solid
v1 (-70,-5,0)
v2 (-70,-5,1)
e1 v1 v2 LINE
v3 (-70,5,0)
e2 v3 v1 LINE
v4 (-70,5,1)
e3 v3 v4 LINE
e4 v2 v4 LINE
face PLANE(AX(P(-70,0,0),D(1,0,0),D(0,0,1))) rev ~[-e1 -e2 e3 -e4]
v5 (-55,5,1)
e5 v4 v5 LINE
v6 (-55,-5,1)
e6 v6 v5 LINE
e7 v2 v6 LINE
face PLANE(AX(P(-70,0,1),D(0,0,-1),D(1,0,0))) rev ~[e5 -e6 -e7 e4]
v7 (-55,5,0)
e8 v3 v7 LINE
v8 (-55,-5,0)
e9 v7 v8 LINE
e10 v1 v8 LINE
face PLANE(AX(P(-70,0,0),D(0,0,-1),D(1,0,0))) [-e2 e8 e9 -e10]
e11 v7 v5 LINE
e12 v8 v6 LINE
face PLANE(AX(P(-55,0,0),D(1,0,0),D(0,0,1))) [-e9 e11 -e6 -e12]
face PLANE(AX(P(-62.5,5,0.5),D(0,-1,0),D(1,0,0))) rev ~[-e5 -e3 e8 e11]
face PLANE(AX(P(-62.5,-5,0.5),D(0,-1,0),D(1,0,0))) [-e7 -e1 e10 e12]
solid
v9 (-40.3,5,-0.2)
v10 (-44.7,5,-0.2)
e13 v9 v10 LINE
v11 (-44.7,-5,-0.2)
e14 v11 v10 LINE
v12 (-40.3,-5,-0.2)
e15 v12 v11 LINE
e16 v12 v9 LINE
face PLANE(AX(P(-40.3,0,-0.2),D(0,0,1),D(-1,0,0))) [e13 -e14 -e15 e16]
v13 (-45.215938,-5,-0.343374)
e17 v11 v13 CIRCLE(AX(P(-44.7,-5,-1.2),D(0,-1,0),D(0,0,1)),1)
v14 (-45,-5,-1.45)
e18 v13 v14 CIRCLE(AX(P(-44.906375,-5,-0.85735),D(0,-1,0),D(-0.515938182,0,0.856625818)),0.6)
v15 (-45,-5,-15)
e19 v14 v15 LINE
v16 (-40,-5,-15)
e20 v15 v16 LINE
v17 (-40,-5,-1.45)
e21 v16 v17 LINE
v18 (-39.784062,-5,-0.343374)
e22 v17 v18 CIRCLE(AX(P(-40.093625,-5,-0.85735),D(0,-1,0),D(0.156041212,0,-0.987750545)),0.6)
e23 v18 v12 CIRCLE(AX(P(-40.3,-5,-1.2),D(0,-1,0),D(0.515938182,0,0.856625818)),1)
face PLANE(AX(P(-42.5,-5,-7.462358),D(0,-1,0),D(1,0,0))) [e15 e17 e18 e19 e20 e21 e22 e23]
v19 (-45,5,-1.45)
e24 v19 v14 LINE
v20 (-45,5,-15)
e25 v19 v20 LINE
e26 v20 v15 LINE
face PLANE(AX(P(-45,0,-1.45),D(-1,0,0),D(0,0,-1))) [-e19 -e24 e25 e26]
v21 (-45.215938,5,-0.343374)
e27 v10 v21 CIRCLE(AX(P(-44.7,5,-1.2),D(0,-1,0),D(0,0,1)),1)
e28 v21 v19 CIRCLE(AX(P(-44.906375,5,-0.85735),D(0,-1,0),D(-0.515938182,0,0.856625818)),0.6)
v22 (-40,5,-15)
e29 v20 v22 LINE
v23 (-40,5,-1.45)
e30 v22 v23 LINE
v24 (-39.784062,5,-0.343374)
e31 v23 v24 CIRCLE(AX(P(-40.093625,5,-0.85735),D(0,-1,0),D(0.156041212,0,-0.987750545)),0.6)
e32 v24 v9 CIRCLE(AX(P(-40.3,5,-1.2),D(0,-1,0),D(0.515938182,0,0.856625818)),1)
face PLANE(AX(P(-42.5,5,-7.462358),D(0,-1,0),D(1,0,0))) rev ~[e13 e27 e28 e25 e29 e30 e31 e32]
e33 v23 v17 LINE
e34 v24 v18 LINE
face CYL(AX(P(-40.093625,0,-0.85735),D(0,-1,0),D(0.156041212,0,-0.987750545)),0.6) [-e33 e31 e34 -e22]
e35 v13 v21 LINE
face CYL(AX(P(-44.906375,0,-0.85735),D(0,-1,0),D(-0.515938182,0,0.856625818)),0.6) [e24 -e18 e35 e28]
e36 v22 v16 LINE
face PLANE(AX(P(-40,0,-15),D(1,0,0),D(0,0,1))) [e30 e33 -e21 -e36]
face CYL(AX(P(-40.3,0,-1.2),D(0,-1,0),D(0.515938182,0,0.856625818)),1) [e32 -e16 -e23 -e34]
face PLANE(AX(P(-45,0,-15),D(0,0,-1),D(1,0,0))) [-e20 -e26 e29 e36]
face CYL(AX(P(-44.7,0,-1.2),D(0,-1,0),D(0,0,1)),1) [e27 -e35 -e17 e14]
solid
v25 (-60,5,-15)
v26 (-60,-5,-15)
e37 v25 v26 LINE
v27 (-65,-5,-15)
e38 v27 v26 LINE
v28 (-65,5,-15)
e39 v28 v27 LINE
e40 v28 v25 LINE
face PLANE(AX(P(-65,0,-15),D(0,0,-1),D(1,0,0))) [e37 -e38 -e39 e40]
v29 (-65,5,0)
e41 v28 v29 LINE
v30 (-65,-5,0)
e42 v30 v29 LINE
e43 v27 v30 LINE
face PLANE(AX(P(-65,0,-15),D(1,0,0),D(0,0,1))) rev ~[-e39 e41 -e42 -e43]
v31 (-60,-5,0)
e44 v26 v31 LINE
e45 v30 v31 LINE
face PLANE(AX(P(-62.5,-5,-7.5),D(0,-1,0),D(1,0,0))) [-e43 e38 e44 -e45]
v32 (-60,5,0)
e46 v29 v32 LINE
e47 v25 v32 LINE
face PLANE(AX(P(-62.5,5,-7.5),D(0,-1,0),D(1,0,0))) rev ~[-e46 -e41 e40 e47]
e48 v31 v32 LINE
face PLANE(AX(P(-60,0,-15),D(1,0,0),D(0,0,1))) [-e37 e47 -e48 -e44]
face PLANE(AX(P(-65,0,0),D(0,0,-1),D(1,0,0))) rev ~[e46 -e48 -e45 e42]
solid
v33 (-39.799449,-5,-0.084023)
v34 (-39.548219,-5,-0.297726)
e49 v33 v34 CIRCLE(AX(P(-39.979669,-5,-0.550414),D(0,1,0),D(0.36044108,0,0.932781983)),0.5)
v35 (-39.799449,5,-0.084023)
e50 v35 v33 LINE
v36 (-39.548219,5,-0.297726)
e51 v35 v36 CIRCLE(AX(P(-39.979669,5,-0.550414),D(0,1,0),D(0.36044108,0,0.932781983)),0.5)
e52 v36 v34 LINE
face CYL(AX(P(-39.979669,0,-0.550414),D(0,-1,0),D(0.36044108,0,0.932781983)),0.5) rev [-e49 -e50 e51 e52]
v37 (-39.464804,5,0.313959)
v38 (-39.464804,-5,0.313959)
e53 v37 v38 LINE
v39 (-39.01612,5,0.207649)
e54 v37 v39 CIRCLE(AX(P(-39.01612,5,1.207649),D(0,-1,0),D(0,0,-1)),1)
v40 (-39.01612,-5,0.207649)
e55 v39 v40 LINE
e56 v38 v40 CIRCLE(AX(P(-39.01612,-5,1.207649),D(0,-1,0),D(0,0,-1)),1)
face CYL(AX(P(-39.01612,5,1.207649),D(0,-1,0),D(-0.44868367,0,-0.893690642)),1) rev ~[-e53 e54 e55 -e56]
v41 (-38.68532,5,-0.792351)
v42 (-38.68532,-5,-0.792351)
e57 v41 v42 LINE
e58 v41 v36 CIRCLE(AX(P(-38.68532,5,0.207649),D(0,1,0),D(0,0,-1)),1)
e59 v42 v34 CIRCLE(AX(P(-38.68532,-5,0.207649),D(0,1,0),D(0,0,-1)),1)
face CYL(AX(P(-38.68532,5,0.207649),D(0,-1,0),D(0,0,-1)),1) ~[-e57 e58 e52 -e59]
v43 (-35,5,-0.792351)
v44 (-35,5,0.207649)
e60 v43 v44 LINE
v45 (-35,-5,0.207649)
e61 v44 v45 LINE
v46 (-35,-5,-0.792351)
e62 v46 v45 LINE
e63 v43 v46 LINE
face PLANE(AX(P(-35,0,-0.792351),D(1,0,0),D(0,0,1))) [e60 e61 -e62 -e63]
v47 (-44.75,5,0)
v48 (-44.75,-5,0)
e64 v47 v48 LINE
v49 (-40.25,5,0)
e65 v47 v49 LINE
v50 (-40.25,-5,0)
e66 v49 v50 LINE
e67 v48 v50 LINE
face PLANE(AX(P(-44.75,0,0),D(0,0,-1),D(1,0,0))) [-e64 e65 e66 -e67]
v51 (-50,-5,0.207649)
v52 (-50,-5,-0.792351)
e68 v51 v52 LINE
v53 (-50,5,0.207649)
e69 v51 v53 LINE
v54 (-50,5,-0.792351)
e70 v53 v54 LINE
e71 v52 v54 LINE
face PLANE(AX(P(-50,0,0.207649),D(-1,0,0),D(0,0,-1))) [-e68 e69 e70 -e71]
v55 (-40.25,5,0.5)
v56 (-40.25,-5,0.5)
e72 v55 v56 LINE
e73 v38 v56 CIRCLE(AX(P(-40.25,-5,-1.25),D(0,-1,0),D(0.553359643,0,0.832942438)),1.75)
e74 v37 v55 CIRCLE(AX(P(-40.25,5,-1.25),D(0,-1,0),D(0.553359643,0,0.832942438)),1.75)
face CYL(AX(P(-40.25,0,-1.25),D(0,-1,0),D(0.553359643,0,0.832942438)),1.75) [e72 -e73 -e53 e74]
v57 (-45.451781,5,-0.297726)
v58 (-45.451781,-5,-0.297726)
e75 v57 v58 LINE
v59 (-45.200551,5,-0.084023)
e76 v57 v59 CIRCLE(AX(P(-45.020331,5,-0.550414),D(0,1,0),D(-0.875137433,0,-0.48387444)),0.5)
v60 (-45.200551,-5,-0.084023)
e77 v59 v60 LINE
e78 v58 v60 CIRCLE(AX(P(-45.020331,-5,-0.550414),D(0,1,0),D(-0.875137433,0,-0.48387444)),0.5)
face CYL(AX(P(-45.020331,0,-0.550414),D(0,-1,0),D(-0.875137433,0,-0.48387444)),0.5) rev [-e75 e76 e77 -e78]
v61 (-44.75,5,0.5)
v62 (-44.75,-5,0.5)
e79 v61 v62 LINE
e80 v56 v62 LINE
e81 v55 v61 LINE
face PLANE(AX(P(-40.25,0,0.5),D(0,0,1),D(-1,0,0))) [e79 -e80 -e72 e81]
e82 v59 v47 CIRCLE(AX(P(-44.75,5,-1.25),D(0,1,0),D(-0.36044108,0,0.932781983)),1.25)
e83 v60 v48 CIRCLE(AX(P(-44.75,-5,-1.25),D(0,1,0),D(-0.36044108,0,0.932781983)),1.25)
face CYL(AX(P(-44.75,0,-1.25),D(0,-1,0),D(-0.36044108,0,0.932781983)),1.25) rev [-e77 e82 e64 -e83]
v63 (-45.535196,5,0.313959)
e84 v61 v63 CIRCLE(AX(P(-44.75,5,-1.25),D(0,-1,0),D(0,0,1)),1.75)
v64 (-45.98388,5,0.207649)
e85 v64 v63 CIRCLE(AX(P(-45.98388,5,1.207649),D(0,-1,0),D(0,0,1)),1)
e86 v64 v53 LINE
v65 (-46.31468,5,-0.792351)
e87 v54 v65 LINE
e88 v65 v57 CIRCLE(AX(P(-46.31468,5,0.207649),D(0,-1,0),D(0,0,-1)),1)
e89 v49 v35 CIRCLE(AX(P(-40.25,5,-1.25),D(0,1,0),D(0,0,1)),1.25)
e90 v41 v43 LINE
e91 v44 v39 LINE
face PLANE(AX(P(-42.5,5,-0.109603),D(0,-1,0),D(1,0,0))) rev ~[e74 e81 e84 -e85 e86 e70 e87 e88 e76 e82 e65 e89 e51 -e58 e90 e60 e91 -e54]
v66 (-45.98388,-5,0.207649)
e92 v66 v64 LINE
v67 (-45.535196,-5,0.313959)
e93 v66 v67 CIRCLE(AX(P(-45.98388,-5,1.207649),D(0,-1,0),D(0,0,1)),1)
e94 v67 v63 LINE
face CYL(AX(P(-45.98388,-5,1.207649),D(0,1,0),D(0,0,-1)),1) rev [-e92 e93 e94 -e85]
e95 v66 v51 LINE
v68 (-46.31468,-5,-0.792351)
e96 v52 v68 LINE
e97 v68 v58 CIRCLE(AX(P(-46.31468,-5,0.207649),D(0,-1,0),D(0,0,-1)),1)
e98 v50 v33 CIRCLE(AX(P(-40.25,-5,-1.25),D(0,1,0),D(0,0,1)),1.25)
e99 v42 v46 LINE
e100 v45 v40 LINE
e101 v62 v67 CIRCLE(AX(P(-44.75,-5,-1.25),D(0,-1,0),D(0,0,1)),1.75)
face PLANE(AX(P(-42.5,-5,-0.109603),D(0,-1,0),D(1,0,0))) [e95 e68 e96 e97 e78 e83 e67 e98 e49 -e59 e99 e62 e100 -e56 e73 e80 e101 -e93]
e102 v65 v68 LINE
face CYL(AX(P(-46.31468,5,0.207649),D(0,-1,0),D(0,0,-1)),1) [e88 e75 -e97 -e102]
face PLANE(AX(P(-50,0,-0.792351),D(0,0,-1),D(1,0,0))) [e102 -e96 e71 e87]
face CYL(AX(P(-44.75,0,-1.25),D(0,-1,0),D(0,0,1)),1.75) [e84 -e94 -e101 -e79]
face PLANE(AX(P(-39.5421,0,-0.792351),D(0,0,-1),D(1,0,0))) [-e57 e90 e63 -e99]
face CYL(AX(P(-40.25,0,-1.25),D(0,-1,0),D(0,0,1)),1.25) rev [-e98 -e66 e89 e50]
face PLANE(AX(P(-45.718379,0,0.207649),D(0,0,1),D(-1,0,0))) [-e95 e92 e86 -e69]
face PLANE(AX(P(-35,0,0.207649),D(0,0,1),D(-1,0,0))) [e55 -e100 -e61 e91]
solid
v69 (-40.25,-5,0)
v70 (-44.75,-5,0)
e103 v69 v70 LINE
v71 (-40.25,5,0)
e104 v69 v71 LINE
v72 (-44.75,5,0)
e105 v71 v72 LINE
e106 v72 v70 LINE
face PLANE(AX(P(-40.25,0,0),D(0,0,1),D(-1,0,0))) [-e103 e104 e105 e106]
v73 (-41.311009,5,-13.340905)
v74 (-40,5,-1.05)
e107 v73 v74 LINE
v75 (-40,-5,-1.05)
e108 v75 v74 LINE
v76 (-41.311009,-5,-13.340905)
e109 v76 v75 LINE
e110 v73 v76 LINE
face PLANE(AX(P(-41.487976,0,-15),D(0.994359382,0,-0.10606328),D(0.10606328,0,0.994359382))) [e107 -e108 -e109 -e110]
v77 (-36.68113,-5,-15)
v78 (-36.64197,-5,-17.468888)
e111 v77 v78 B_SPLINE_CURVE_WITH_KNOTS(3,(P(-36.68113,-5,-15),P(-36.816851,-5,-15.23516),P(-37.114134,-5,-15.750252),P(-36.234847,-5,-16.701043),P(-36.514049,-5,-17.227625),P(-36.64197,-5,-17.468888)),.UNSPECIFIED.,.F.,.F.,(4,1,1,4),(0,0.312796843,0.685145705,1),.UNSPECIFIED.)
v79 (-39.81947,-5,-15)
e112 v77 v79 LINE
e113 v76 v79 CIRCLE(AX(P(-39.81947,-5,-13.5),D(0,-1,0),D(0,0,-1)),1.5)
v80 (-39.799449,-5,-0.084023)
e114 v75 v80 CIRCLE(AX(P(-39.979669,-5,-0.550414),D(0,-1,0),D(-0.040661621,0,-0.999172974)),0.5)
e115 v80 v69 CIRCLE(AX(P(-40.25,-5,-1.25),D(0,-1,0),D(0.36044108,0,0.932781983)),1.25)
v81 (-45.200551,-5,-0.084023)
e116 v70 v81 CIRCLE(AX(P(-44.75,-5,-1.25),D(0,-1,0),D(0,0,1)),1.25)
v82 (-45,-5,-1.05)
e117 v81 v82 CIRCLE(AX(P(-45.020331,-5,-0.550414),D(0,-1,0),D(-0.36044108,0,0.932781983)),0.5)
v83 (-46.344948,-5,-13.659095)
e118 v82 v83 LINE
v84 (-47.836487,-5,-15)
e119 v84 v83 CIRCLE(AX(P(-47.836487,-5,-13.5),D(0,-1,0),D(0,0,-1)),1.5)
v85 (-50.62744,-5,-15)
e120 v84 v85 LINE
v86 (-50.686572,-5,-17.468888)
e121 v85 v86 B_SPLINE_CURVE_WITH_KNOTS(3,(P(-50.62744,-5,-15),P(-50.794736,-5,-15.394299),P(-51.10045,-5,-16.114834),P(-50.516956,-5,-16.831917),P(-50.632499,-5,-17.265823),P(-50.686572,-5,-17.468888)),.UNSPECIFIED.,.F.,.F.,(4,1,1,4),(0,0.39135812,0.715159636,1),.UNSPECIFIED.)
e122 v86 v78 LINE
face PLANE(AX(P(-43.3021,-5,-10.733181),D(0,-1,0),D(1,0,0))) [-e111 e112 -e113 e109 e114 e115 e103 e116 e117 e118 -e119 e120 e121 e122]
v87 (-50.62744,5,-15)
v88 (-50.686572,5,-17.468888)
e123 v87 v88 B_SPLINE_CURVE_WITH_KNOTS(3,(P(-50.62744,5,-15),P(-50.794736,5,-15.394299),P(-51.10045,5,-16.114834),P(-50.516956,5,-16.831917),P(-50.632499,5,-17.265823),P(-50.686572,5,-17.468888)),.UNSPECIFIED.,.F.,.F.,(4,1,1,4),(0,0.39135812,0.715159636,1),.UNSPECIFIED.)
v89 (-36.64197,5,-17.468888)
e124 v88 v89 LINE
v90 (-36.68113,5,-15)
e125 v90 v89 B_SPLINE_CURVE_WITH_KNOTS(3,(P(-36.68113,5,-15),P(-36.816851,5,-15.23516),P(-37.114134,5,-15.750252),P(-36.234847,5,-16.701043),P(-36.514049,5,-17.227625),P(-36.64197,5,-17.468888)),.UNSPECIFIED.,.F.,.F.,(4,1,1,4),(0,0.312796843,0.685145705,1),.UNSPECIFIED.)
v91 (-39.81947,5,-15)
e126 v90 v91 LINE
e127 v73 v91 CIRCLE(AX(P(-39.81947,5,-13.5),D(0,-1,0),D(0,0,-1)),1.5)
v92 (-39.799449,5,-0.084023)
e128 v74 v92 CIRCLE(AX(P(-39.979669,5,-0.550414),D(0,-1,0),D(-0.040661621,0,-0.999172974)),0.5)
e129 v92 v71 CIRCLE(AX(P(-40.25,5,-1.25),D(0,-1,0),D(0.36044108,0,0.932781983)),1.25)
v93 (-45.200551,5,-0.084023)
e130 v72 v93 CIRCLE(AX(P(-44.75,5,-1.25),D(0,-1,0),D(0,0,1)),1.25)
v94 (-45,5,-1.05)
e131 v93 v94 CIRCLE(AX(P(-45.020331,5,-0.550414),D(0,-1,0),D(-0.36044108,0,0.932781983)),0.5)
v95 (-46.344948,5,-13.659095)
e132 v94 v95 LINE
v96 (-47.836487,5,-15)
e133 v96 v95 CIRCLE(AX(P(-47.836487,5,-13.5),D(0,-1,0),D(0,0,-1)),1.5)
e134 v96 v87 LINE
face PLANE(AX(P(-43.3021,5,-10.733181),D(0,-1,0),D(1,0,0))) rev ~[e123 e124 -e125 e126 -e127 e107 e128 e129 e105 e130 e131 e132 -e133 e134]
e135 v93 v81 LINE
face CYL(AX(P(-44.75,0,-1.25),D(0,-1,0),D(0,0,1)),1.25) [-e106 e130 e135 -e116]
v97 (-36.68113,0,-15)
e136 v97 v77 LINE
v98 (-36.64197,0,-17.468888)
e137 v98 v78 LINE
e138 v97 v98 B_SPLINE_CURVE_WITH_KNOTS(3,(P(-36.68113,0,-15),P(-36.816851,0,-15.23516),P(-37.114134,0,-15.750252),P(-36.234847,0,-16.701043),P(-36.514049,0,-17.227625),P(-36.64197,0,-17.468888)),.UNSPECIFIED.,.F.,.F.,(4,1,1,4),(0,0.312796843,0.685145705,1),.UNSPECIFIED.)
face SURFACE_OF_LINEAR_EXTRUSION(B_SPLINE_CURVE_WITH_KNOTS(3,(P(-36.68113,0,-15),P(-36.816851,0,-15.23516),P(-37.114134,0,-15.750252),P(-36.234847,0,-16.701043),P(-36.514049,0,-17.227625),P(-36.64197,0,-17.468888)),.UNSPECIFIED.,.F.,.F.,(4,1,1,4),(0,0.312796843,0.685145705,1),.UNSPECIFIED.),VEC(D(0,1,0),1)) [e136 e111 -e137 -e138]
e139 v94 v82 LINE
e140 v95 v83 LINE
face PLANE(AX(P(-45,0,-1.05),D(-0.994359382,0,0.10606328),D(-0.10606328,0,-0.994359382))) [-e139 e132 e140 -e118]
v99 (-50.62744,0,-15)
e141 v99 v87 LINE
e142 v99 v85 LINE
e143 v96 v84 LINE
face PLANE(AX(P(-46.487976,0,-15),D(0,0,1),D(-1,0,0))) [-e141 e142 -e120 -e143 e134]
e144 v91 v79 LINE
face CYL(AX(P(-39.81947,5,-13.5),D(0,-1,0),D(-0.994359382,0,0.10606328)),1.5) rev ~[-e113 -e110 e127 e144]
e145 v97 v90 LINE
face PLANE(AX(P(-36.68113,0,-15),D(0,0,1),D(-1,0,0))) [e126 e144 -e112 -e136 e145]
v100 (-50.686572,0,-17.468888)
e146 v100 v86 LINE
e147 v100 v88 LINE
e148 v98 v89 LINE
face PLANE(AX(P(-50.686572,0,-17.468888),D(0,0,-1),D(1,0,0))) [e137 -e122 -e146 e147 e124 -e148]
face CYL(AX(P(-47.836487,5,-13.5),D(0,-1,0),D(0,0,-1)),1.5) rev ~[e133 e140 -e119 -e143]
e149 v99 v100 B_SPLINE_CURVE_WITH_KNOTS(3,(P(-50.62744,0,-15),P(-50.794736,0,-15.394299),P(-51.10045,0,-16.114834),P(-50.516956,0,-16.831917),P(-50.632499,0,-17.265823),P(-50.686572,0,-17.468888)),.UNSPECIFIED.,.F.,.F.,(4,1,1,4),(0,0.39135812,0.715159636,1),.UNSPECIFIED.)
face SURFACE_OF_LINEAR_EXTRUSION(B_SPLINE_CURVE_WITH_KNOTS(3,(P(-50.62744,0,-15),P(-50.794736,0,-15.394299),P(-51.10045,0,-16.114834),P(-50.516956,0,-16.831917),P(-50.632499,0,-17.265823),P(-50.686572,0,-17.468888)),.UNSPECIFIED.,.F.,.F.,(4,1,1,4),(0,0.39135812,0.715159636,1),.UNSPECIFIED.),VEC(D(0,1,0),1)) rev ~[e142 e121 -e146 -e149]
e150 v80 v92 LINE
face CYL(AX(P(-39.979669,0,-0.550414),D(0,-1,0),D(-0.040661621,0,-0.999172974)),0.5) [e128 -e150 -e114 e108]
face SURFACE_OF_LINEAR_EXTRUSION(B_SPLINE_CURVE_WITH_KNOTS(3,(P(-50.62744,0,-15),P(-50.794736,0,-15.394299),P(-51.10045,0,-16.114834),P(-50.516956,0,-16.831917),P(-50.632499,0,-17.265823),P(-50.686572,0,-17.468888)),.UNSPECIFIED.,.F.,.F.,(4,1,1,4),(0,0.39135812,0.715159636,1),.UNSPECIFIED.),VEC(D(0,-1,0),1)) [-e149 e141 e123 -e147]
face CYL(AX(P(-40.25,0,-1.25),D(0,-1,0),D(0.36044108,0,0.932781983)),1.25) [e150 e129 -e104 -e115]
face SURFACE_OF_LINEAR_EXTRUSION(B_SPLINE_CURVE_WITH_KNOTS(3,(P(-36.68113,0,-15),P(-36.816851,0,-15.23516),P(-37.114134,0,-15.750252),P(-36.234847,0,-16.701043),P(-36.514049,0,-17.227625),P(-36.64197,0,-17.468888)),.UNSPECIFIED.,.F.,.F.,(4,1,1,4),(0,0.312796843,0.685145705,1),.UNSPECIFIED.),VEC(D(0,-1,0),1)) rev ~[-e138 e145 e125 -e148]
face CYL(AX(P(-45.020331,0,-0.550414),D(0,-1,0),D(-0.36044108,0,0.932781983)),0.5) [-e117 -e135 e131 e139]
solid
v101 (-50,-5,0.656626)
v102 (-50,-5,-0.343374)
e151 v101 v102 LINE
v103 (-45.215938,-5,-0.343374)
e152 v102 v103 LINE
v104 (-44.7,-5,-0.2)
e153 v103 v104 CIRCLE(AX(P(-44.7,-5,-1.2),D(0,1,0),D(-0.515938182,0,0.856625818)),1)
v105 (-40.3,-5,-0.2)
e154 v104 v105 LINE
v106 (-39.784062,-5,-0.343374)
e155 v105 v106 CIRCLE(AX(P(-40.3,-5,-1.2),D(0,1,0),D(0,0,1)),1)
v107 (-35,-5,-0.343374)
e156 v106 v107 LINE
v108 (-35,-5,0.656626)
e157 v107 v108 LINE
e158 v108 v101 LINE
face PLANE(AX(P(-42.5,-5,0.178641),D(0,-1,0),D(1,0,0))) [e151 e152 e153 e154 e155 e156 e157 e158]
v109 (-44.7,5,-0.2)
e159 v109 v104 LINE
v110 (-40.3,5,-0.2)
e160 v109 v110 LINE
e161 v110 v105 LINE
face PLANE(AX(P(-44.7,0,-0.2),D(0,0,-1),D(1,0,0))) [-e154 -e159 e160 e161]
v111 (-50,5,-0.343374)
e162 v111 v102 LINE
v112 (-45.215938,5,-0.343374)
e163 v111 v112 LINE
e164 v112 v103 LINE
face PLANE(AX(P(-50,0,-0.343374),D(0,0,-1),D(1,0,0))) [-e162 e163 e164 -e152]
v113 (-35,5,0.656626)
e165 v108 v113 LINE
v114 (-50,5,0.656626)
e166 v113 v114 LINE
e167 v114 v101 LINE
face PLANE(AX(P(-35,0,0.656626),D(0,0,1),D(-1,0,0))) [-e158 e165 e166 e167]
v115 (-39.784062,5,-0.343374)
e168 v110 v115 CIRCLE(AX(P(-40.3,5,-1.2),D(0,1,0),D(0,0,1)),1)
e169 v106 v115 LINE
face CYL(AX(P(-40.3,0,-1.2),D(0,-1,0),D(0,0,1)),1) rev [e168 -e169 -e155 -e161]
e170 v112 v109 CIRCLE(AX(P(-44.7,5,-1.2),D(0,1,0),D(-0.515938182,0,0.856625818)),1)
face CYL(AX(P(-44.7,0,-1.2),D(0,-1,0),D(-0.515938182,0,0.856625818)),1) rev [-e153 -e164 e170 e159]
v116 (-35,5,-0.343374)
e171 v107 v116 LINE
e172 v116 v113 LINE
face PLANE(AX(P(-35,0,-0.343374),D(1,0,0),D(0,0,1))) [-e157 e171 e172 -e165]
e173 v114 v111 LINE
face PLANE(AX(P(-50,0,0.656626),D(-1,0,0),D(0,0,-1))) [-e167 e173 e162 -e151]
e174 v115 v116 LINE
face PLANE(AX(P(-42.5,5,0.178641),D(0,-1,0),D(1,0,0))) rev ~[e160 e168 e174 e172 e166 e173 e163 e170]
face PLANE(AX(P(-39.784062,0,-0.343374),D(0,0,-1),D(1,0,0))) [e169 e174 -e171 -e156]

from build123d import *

# Parameters (mm, degrees)
F5_W      = 5
F5_H      = 15
F6_DEPTH  = 5
F7_W      = 15
F7_H      = 1
F8_DEPTH  = 5
F10_DEPTH = 5
F12_DEPTH = 5
F13_R     = 1
F14_R     = 1.5


with BuildPart() as f6:
    # F5 (on Front) → F6 (new body, symmetric)
    with BuildSketch(Plane.XZ):
        with Locations((-62.5, -7.5)):
            Rectangle(F5_W, F5_H)
    extrude(amount=F6_DEPTH, both=True)


with BuildPart() as f6b:
    # F5 (on Front) → F6, piece 2 (new body, symmetric)
    with BuildSketch(Plane.XZ):
        with BuildLine():
            ThreePointArc((-45.2159381819, -0.3433741818), (-45.4952685083, -0.9722616262), (-45, -1.45))
            Line((-45, -1.45), (-45, -15))
            Line((-45, -15), (-40, -15))
            Line((-40, -15), (-40, -1.45))
            ThreePointArc((-40, -1.45), (-39.5047314917, -0.9722616262), (-39.7840618181, -0.3433741818))
            ThreePointArc((-39.7840618181, -0.3433741818), (-40.0322555493, -0.2365100368), (-40.3, -0.2))
            Line((-40.3, -0.2), (-44.7, -0.2))
            ThreePointArc((-44.7, -0.2), (-44.9677444507, -0.2365100368), (-45.2159381819, -0.3433741818))
        make_face()
    extrude(amount=F6_DEPTH, both=True)


with BuildPart() as f8:
    # F7 (on Front) → F8 (new body, symmetric)
    with BuildSketch(Plane.XZ):
        with Locations((-62.5, 0.5)):
            Rectangle(F7_W, F7_H)
    extrude(amount=F8_DEPTH, both=True)


with BuildPart() as f8b:
    # F7 (on Front) → F8, piece 2 (new body, symmetric)
    with BuildSketch(Plane.XZ):
        with BuildLine():
            Line((-35, 0.6566258182), (-50, 0.6566258182))
            Line((-50, 0.6566258182), (-50, -0.3433741818))
            Line((-50, -0.3433741818), (-45.2159381819, -0.3433741818))
            ThreePointArc((-45.2159381819, -0.3433741818), (-44.9677444507, -0.2365100368), (-44.7, -0.2))
            Line((-44.7, -0.2), (-40.3, -0.2))
            ThreePointArc((-40.3, -0.2), (-40.0322555493, -0.2365100368), (-39.7840618181, -0.3433741818))
            Line((-39.7840618181, -0.3433741818), (-35, -0.3433741818))
            Line((-35, -0.3433741818), (-35, 0.6566258182))
        make_face()
    extrude(amount=F8_DEPTH, both=True)


with BuildPart() as f10:
    # F9 (on Front) → F10 (new body, symmetric)
    with BuildSketch(Plane.XZ):
        with BuildLine():
            Line((-40.25, 0), (-44.75, 0))
            ThreePointArc((-44.75, 0), (-44.9791594988, -0.0211851547), (-45.2005513505, -0.0840225214))
            ThreePointArc((-45.2005513505, -0.0840225214), (-45.509891127, -0.6520535457), (-45, -1.05))
            Line((-45, -1.05), (-46.4879758656, -15))
            Line((-46.4879758656, -15), (-50.6274402142, -15))
            add(Edge.make_bspline(
                [(-50.6274402142, -15), (-50.7947364996, -15.3942994532), (-51.1004502292, -16.1148340192), (-50.5169564586, -16.8319173185), (-50.6324987301, -17.2658232252), (-50.6865717471, -17.4688883126)],
                knots=[0, 0, 0, 0, 0.3913581203, 0.7151596359, 1, 1, 1, 1], degree=3))
            Line((-50.6865717471, -17.4688883126), (-36.6419702768, -17.4688883126))
            add(Edge.make_bspline(
                [(-36.6811295621, -15), (-36.8168513331, -15.2351602212), (-37.1141343472, -15.7502517856), (-36.2348468495, -16.7010428967), (-36.5140489091, -17.2276252723), (-36.6419702768, -17.4688883126)],
                knots=[0, 0, 0, 0, 0.3127968435, 0.6851457046, 1, 1, 1, 1], degree=3))
            Line((-36.6811295621, -15), (-41.4879758656, -15))
            Line((-41.4879758656, -15), (-40, -1.05))
            ThreePointArc((-40, -1.05), (-39.490108873, -0.6520535457), (-39.7994486495, -0.0840225214))
            ThreePointArc((-39.7994486495, -0.0840225214), (-40.0208405012, -0.0211851547), (-40.25, 0))
        make_face()
    extrude(amount=F10_DEPTH, both=True)

    # F14
    f14_edges = [f10.edges().sort_by_distance(p)[0] for p in [
        (-41.487976, 0, -15),
        (-46.487976, 0, -15),
    ]]
    fillet(f14_edges, radius=F14_R)


with BuildPart() as f12:
    # F11 (on Front) → F12 (new body, symmetric)
    with BuildSketch(Plane.XZ):
        with BuildLine():
            Line((-50, -0.792350733), (-45.4578995266, -0.792350733))
            ThreePointArc((-45.4578995266, -0.792350733), (-45.4902755998, -0.3796742531), (-45.2005513505, -0.0840225214))
            ThreePointArc((-45.2005513505, -0.0840225214), (-44.9791594988, -0.0211851547), (-44.75, 0))
            Line((-44.75, 0), (-40.25, 0))
            ThreePointArc((-40.25, 0), (-40.0208405012, -0.0211851547), (-39.7994486495, -0.0840225214))
            ThreePointArc((-39.7994486495, -0.0840225214), (-39.5097244002, -0.3796742531), (-39.5421004734, -0.792350733))
            Line((-39.5421004734, -0.792350733), (-35, -0.792350733))
            Line((-35, -0.792350733), (-35, 0.207649267))
            Line((-35, 0.207649267), (-39.2816206248, 0.207649267))
            ThreePointArc((-39.2816206248, 0.207649267), (-39.7442264426, 0.4253188081), (-40.25, 0.5))
            Line((-40.25, 0.5), (-44.75, 0.5))
            ThreePointArc((-44.75, 0.5), (-45.2557735574, 0.4253188081), (-45.7183793752, 0.207649267))
            Line((-45.7183793752, 0.207649267), (-50, 0.207649267))
            Line((-50, 0.207649267), (-50, -0.792350733))
        make_face()
    extrude(amount=F12_DEPTH, both=True)

    # F13
    f13_edges = [f12.edges().sort_by_distance(p)[0] for p in [
        (-45.4579, 0, -0.792351),
        (-39.5421, 0, -0.792351),
        (-45.718379, 0, 0.207649),
        (-39.281621, 0, 0.207649),
    ]]
    fillet(f13_edges, radius=F13_R)


solid = Compound([f6.part, f6b.part, f8.part, f8b.part, f10.part, f12.part])
